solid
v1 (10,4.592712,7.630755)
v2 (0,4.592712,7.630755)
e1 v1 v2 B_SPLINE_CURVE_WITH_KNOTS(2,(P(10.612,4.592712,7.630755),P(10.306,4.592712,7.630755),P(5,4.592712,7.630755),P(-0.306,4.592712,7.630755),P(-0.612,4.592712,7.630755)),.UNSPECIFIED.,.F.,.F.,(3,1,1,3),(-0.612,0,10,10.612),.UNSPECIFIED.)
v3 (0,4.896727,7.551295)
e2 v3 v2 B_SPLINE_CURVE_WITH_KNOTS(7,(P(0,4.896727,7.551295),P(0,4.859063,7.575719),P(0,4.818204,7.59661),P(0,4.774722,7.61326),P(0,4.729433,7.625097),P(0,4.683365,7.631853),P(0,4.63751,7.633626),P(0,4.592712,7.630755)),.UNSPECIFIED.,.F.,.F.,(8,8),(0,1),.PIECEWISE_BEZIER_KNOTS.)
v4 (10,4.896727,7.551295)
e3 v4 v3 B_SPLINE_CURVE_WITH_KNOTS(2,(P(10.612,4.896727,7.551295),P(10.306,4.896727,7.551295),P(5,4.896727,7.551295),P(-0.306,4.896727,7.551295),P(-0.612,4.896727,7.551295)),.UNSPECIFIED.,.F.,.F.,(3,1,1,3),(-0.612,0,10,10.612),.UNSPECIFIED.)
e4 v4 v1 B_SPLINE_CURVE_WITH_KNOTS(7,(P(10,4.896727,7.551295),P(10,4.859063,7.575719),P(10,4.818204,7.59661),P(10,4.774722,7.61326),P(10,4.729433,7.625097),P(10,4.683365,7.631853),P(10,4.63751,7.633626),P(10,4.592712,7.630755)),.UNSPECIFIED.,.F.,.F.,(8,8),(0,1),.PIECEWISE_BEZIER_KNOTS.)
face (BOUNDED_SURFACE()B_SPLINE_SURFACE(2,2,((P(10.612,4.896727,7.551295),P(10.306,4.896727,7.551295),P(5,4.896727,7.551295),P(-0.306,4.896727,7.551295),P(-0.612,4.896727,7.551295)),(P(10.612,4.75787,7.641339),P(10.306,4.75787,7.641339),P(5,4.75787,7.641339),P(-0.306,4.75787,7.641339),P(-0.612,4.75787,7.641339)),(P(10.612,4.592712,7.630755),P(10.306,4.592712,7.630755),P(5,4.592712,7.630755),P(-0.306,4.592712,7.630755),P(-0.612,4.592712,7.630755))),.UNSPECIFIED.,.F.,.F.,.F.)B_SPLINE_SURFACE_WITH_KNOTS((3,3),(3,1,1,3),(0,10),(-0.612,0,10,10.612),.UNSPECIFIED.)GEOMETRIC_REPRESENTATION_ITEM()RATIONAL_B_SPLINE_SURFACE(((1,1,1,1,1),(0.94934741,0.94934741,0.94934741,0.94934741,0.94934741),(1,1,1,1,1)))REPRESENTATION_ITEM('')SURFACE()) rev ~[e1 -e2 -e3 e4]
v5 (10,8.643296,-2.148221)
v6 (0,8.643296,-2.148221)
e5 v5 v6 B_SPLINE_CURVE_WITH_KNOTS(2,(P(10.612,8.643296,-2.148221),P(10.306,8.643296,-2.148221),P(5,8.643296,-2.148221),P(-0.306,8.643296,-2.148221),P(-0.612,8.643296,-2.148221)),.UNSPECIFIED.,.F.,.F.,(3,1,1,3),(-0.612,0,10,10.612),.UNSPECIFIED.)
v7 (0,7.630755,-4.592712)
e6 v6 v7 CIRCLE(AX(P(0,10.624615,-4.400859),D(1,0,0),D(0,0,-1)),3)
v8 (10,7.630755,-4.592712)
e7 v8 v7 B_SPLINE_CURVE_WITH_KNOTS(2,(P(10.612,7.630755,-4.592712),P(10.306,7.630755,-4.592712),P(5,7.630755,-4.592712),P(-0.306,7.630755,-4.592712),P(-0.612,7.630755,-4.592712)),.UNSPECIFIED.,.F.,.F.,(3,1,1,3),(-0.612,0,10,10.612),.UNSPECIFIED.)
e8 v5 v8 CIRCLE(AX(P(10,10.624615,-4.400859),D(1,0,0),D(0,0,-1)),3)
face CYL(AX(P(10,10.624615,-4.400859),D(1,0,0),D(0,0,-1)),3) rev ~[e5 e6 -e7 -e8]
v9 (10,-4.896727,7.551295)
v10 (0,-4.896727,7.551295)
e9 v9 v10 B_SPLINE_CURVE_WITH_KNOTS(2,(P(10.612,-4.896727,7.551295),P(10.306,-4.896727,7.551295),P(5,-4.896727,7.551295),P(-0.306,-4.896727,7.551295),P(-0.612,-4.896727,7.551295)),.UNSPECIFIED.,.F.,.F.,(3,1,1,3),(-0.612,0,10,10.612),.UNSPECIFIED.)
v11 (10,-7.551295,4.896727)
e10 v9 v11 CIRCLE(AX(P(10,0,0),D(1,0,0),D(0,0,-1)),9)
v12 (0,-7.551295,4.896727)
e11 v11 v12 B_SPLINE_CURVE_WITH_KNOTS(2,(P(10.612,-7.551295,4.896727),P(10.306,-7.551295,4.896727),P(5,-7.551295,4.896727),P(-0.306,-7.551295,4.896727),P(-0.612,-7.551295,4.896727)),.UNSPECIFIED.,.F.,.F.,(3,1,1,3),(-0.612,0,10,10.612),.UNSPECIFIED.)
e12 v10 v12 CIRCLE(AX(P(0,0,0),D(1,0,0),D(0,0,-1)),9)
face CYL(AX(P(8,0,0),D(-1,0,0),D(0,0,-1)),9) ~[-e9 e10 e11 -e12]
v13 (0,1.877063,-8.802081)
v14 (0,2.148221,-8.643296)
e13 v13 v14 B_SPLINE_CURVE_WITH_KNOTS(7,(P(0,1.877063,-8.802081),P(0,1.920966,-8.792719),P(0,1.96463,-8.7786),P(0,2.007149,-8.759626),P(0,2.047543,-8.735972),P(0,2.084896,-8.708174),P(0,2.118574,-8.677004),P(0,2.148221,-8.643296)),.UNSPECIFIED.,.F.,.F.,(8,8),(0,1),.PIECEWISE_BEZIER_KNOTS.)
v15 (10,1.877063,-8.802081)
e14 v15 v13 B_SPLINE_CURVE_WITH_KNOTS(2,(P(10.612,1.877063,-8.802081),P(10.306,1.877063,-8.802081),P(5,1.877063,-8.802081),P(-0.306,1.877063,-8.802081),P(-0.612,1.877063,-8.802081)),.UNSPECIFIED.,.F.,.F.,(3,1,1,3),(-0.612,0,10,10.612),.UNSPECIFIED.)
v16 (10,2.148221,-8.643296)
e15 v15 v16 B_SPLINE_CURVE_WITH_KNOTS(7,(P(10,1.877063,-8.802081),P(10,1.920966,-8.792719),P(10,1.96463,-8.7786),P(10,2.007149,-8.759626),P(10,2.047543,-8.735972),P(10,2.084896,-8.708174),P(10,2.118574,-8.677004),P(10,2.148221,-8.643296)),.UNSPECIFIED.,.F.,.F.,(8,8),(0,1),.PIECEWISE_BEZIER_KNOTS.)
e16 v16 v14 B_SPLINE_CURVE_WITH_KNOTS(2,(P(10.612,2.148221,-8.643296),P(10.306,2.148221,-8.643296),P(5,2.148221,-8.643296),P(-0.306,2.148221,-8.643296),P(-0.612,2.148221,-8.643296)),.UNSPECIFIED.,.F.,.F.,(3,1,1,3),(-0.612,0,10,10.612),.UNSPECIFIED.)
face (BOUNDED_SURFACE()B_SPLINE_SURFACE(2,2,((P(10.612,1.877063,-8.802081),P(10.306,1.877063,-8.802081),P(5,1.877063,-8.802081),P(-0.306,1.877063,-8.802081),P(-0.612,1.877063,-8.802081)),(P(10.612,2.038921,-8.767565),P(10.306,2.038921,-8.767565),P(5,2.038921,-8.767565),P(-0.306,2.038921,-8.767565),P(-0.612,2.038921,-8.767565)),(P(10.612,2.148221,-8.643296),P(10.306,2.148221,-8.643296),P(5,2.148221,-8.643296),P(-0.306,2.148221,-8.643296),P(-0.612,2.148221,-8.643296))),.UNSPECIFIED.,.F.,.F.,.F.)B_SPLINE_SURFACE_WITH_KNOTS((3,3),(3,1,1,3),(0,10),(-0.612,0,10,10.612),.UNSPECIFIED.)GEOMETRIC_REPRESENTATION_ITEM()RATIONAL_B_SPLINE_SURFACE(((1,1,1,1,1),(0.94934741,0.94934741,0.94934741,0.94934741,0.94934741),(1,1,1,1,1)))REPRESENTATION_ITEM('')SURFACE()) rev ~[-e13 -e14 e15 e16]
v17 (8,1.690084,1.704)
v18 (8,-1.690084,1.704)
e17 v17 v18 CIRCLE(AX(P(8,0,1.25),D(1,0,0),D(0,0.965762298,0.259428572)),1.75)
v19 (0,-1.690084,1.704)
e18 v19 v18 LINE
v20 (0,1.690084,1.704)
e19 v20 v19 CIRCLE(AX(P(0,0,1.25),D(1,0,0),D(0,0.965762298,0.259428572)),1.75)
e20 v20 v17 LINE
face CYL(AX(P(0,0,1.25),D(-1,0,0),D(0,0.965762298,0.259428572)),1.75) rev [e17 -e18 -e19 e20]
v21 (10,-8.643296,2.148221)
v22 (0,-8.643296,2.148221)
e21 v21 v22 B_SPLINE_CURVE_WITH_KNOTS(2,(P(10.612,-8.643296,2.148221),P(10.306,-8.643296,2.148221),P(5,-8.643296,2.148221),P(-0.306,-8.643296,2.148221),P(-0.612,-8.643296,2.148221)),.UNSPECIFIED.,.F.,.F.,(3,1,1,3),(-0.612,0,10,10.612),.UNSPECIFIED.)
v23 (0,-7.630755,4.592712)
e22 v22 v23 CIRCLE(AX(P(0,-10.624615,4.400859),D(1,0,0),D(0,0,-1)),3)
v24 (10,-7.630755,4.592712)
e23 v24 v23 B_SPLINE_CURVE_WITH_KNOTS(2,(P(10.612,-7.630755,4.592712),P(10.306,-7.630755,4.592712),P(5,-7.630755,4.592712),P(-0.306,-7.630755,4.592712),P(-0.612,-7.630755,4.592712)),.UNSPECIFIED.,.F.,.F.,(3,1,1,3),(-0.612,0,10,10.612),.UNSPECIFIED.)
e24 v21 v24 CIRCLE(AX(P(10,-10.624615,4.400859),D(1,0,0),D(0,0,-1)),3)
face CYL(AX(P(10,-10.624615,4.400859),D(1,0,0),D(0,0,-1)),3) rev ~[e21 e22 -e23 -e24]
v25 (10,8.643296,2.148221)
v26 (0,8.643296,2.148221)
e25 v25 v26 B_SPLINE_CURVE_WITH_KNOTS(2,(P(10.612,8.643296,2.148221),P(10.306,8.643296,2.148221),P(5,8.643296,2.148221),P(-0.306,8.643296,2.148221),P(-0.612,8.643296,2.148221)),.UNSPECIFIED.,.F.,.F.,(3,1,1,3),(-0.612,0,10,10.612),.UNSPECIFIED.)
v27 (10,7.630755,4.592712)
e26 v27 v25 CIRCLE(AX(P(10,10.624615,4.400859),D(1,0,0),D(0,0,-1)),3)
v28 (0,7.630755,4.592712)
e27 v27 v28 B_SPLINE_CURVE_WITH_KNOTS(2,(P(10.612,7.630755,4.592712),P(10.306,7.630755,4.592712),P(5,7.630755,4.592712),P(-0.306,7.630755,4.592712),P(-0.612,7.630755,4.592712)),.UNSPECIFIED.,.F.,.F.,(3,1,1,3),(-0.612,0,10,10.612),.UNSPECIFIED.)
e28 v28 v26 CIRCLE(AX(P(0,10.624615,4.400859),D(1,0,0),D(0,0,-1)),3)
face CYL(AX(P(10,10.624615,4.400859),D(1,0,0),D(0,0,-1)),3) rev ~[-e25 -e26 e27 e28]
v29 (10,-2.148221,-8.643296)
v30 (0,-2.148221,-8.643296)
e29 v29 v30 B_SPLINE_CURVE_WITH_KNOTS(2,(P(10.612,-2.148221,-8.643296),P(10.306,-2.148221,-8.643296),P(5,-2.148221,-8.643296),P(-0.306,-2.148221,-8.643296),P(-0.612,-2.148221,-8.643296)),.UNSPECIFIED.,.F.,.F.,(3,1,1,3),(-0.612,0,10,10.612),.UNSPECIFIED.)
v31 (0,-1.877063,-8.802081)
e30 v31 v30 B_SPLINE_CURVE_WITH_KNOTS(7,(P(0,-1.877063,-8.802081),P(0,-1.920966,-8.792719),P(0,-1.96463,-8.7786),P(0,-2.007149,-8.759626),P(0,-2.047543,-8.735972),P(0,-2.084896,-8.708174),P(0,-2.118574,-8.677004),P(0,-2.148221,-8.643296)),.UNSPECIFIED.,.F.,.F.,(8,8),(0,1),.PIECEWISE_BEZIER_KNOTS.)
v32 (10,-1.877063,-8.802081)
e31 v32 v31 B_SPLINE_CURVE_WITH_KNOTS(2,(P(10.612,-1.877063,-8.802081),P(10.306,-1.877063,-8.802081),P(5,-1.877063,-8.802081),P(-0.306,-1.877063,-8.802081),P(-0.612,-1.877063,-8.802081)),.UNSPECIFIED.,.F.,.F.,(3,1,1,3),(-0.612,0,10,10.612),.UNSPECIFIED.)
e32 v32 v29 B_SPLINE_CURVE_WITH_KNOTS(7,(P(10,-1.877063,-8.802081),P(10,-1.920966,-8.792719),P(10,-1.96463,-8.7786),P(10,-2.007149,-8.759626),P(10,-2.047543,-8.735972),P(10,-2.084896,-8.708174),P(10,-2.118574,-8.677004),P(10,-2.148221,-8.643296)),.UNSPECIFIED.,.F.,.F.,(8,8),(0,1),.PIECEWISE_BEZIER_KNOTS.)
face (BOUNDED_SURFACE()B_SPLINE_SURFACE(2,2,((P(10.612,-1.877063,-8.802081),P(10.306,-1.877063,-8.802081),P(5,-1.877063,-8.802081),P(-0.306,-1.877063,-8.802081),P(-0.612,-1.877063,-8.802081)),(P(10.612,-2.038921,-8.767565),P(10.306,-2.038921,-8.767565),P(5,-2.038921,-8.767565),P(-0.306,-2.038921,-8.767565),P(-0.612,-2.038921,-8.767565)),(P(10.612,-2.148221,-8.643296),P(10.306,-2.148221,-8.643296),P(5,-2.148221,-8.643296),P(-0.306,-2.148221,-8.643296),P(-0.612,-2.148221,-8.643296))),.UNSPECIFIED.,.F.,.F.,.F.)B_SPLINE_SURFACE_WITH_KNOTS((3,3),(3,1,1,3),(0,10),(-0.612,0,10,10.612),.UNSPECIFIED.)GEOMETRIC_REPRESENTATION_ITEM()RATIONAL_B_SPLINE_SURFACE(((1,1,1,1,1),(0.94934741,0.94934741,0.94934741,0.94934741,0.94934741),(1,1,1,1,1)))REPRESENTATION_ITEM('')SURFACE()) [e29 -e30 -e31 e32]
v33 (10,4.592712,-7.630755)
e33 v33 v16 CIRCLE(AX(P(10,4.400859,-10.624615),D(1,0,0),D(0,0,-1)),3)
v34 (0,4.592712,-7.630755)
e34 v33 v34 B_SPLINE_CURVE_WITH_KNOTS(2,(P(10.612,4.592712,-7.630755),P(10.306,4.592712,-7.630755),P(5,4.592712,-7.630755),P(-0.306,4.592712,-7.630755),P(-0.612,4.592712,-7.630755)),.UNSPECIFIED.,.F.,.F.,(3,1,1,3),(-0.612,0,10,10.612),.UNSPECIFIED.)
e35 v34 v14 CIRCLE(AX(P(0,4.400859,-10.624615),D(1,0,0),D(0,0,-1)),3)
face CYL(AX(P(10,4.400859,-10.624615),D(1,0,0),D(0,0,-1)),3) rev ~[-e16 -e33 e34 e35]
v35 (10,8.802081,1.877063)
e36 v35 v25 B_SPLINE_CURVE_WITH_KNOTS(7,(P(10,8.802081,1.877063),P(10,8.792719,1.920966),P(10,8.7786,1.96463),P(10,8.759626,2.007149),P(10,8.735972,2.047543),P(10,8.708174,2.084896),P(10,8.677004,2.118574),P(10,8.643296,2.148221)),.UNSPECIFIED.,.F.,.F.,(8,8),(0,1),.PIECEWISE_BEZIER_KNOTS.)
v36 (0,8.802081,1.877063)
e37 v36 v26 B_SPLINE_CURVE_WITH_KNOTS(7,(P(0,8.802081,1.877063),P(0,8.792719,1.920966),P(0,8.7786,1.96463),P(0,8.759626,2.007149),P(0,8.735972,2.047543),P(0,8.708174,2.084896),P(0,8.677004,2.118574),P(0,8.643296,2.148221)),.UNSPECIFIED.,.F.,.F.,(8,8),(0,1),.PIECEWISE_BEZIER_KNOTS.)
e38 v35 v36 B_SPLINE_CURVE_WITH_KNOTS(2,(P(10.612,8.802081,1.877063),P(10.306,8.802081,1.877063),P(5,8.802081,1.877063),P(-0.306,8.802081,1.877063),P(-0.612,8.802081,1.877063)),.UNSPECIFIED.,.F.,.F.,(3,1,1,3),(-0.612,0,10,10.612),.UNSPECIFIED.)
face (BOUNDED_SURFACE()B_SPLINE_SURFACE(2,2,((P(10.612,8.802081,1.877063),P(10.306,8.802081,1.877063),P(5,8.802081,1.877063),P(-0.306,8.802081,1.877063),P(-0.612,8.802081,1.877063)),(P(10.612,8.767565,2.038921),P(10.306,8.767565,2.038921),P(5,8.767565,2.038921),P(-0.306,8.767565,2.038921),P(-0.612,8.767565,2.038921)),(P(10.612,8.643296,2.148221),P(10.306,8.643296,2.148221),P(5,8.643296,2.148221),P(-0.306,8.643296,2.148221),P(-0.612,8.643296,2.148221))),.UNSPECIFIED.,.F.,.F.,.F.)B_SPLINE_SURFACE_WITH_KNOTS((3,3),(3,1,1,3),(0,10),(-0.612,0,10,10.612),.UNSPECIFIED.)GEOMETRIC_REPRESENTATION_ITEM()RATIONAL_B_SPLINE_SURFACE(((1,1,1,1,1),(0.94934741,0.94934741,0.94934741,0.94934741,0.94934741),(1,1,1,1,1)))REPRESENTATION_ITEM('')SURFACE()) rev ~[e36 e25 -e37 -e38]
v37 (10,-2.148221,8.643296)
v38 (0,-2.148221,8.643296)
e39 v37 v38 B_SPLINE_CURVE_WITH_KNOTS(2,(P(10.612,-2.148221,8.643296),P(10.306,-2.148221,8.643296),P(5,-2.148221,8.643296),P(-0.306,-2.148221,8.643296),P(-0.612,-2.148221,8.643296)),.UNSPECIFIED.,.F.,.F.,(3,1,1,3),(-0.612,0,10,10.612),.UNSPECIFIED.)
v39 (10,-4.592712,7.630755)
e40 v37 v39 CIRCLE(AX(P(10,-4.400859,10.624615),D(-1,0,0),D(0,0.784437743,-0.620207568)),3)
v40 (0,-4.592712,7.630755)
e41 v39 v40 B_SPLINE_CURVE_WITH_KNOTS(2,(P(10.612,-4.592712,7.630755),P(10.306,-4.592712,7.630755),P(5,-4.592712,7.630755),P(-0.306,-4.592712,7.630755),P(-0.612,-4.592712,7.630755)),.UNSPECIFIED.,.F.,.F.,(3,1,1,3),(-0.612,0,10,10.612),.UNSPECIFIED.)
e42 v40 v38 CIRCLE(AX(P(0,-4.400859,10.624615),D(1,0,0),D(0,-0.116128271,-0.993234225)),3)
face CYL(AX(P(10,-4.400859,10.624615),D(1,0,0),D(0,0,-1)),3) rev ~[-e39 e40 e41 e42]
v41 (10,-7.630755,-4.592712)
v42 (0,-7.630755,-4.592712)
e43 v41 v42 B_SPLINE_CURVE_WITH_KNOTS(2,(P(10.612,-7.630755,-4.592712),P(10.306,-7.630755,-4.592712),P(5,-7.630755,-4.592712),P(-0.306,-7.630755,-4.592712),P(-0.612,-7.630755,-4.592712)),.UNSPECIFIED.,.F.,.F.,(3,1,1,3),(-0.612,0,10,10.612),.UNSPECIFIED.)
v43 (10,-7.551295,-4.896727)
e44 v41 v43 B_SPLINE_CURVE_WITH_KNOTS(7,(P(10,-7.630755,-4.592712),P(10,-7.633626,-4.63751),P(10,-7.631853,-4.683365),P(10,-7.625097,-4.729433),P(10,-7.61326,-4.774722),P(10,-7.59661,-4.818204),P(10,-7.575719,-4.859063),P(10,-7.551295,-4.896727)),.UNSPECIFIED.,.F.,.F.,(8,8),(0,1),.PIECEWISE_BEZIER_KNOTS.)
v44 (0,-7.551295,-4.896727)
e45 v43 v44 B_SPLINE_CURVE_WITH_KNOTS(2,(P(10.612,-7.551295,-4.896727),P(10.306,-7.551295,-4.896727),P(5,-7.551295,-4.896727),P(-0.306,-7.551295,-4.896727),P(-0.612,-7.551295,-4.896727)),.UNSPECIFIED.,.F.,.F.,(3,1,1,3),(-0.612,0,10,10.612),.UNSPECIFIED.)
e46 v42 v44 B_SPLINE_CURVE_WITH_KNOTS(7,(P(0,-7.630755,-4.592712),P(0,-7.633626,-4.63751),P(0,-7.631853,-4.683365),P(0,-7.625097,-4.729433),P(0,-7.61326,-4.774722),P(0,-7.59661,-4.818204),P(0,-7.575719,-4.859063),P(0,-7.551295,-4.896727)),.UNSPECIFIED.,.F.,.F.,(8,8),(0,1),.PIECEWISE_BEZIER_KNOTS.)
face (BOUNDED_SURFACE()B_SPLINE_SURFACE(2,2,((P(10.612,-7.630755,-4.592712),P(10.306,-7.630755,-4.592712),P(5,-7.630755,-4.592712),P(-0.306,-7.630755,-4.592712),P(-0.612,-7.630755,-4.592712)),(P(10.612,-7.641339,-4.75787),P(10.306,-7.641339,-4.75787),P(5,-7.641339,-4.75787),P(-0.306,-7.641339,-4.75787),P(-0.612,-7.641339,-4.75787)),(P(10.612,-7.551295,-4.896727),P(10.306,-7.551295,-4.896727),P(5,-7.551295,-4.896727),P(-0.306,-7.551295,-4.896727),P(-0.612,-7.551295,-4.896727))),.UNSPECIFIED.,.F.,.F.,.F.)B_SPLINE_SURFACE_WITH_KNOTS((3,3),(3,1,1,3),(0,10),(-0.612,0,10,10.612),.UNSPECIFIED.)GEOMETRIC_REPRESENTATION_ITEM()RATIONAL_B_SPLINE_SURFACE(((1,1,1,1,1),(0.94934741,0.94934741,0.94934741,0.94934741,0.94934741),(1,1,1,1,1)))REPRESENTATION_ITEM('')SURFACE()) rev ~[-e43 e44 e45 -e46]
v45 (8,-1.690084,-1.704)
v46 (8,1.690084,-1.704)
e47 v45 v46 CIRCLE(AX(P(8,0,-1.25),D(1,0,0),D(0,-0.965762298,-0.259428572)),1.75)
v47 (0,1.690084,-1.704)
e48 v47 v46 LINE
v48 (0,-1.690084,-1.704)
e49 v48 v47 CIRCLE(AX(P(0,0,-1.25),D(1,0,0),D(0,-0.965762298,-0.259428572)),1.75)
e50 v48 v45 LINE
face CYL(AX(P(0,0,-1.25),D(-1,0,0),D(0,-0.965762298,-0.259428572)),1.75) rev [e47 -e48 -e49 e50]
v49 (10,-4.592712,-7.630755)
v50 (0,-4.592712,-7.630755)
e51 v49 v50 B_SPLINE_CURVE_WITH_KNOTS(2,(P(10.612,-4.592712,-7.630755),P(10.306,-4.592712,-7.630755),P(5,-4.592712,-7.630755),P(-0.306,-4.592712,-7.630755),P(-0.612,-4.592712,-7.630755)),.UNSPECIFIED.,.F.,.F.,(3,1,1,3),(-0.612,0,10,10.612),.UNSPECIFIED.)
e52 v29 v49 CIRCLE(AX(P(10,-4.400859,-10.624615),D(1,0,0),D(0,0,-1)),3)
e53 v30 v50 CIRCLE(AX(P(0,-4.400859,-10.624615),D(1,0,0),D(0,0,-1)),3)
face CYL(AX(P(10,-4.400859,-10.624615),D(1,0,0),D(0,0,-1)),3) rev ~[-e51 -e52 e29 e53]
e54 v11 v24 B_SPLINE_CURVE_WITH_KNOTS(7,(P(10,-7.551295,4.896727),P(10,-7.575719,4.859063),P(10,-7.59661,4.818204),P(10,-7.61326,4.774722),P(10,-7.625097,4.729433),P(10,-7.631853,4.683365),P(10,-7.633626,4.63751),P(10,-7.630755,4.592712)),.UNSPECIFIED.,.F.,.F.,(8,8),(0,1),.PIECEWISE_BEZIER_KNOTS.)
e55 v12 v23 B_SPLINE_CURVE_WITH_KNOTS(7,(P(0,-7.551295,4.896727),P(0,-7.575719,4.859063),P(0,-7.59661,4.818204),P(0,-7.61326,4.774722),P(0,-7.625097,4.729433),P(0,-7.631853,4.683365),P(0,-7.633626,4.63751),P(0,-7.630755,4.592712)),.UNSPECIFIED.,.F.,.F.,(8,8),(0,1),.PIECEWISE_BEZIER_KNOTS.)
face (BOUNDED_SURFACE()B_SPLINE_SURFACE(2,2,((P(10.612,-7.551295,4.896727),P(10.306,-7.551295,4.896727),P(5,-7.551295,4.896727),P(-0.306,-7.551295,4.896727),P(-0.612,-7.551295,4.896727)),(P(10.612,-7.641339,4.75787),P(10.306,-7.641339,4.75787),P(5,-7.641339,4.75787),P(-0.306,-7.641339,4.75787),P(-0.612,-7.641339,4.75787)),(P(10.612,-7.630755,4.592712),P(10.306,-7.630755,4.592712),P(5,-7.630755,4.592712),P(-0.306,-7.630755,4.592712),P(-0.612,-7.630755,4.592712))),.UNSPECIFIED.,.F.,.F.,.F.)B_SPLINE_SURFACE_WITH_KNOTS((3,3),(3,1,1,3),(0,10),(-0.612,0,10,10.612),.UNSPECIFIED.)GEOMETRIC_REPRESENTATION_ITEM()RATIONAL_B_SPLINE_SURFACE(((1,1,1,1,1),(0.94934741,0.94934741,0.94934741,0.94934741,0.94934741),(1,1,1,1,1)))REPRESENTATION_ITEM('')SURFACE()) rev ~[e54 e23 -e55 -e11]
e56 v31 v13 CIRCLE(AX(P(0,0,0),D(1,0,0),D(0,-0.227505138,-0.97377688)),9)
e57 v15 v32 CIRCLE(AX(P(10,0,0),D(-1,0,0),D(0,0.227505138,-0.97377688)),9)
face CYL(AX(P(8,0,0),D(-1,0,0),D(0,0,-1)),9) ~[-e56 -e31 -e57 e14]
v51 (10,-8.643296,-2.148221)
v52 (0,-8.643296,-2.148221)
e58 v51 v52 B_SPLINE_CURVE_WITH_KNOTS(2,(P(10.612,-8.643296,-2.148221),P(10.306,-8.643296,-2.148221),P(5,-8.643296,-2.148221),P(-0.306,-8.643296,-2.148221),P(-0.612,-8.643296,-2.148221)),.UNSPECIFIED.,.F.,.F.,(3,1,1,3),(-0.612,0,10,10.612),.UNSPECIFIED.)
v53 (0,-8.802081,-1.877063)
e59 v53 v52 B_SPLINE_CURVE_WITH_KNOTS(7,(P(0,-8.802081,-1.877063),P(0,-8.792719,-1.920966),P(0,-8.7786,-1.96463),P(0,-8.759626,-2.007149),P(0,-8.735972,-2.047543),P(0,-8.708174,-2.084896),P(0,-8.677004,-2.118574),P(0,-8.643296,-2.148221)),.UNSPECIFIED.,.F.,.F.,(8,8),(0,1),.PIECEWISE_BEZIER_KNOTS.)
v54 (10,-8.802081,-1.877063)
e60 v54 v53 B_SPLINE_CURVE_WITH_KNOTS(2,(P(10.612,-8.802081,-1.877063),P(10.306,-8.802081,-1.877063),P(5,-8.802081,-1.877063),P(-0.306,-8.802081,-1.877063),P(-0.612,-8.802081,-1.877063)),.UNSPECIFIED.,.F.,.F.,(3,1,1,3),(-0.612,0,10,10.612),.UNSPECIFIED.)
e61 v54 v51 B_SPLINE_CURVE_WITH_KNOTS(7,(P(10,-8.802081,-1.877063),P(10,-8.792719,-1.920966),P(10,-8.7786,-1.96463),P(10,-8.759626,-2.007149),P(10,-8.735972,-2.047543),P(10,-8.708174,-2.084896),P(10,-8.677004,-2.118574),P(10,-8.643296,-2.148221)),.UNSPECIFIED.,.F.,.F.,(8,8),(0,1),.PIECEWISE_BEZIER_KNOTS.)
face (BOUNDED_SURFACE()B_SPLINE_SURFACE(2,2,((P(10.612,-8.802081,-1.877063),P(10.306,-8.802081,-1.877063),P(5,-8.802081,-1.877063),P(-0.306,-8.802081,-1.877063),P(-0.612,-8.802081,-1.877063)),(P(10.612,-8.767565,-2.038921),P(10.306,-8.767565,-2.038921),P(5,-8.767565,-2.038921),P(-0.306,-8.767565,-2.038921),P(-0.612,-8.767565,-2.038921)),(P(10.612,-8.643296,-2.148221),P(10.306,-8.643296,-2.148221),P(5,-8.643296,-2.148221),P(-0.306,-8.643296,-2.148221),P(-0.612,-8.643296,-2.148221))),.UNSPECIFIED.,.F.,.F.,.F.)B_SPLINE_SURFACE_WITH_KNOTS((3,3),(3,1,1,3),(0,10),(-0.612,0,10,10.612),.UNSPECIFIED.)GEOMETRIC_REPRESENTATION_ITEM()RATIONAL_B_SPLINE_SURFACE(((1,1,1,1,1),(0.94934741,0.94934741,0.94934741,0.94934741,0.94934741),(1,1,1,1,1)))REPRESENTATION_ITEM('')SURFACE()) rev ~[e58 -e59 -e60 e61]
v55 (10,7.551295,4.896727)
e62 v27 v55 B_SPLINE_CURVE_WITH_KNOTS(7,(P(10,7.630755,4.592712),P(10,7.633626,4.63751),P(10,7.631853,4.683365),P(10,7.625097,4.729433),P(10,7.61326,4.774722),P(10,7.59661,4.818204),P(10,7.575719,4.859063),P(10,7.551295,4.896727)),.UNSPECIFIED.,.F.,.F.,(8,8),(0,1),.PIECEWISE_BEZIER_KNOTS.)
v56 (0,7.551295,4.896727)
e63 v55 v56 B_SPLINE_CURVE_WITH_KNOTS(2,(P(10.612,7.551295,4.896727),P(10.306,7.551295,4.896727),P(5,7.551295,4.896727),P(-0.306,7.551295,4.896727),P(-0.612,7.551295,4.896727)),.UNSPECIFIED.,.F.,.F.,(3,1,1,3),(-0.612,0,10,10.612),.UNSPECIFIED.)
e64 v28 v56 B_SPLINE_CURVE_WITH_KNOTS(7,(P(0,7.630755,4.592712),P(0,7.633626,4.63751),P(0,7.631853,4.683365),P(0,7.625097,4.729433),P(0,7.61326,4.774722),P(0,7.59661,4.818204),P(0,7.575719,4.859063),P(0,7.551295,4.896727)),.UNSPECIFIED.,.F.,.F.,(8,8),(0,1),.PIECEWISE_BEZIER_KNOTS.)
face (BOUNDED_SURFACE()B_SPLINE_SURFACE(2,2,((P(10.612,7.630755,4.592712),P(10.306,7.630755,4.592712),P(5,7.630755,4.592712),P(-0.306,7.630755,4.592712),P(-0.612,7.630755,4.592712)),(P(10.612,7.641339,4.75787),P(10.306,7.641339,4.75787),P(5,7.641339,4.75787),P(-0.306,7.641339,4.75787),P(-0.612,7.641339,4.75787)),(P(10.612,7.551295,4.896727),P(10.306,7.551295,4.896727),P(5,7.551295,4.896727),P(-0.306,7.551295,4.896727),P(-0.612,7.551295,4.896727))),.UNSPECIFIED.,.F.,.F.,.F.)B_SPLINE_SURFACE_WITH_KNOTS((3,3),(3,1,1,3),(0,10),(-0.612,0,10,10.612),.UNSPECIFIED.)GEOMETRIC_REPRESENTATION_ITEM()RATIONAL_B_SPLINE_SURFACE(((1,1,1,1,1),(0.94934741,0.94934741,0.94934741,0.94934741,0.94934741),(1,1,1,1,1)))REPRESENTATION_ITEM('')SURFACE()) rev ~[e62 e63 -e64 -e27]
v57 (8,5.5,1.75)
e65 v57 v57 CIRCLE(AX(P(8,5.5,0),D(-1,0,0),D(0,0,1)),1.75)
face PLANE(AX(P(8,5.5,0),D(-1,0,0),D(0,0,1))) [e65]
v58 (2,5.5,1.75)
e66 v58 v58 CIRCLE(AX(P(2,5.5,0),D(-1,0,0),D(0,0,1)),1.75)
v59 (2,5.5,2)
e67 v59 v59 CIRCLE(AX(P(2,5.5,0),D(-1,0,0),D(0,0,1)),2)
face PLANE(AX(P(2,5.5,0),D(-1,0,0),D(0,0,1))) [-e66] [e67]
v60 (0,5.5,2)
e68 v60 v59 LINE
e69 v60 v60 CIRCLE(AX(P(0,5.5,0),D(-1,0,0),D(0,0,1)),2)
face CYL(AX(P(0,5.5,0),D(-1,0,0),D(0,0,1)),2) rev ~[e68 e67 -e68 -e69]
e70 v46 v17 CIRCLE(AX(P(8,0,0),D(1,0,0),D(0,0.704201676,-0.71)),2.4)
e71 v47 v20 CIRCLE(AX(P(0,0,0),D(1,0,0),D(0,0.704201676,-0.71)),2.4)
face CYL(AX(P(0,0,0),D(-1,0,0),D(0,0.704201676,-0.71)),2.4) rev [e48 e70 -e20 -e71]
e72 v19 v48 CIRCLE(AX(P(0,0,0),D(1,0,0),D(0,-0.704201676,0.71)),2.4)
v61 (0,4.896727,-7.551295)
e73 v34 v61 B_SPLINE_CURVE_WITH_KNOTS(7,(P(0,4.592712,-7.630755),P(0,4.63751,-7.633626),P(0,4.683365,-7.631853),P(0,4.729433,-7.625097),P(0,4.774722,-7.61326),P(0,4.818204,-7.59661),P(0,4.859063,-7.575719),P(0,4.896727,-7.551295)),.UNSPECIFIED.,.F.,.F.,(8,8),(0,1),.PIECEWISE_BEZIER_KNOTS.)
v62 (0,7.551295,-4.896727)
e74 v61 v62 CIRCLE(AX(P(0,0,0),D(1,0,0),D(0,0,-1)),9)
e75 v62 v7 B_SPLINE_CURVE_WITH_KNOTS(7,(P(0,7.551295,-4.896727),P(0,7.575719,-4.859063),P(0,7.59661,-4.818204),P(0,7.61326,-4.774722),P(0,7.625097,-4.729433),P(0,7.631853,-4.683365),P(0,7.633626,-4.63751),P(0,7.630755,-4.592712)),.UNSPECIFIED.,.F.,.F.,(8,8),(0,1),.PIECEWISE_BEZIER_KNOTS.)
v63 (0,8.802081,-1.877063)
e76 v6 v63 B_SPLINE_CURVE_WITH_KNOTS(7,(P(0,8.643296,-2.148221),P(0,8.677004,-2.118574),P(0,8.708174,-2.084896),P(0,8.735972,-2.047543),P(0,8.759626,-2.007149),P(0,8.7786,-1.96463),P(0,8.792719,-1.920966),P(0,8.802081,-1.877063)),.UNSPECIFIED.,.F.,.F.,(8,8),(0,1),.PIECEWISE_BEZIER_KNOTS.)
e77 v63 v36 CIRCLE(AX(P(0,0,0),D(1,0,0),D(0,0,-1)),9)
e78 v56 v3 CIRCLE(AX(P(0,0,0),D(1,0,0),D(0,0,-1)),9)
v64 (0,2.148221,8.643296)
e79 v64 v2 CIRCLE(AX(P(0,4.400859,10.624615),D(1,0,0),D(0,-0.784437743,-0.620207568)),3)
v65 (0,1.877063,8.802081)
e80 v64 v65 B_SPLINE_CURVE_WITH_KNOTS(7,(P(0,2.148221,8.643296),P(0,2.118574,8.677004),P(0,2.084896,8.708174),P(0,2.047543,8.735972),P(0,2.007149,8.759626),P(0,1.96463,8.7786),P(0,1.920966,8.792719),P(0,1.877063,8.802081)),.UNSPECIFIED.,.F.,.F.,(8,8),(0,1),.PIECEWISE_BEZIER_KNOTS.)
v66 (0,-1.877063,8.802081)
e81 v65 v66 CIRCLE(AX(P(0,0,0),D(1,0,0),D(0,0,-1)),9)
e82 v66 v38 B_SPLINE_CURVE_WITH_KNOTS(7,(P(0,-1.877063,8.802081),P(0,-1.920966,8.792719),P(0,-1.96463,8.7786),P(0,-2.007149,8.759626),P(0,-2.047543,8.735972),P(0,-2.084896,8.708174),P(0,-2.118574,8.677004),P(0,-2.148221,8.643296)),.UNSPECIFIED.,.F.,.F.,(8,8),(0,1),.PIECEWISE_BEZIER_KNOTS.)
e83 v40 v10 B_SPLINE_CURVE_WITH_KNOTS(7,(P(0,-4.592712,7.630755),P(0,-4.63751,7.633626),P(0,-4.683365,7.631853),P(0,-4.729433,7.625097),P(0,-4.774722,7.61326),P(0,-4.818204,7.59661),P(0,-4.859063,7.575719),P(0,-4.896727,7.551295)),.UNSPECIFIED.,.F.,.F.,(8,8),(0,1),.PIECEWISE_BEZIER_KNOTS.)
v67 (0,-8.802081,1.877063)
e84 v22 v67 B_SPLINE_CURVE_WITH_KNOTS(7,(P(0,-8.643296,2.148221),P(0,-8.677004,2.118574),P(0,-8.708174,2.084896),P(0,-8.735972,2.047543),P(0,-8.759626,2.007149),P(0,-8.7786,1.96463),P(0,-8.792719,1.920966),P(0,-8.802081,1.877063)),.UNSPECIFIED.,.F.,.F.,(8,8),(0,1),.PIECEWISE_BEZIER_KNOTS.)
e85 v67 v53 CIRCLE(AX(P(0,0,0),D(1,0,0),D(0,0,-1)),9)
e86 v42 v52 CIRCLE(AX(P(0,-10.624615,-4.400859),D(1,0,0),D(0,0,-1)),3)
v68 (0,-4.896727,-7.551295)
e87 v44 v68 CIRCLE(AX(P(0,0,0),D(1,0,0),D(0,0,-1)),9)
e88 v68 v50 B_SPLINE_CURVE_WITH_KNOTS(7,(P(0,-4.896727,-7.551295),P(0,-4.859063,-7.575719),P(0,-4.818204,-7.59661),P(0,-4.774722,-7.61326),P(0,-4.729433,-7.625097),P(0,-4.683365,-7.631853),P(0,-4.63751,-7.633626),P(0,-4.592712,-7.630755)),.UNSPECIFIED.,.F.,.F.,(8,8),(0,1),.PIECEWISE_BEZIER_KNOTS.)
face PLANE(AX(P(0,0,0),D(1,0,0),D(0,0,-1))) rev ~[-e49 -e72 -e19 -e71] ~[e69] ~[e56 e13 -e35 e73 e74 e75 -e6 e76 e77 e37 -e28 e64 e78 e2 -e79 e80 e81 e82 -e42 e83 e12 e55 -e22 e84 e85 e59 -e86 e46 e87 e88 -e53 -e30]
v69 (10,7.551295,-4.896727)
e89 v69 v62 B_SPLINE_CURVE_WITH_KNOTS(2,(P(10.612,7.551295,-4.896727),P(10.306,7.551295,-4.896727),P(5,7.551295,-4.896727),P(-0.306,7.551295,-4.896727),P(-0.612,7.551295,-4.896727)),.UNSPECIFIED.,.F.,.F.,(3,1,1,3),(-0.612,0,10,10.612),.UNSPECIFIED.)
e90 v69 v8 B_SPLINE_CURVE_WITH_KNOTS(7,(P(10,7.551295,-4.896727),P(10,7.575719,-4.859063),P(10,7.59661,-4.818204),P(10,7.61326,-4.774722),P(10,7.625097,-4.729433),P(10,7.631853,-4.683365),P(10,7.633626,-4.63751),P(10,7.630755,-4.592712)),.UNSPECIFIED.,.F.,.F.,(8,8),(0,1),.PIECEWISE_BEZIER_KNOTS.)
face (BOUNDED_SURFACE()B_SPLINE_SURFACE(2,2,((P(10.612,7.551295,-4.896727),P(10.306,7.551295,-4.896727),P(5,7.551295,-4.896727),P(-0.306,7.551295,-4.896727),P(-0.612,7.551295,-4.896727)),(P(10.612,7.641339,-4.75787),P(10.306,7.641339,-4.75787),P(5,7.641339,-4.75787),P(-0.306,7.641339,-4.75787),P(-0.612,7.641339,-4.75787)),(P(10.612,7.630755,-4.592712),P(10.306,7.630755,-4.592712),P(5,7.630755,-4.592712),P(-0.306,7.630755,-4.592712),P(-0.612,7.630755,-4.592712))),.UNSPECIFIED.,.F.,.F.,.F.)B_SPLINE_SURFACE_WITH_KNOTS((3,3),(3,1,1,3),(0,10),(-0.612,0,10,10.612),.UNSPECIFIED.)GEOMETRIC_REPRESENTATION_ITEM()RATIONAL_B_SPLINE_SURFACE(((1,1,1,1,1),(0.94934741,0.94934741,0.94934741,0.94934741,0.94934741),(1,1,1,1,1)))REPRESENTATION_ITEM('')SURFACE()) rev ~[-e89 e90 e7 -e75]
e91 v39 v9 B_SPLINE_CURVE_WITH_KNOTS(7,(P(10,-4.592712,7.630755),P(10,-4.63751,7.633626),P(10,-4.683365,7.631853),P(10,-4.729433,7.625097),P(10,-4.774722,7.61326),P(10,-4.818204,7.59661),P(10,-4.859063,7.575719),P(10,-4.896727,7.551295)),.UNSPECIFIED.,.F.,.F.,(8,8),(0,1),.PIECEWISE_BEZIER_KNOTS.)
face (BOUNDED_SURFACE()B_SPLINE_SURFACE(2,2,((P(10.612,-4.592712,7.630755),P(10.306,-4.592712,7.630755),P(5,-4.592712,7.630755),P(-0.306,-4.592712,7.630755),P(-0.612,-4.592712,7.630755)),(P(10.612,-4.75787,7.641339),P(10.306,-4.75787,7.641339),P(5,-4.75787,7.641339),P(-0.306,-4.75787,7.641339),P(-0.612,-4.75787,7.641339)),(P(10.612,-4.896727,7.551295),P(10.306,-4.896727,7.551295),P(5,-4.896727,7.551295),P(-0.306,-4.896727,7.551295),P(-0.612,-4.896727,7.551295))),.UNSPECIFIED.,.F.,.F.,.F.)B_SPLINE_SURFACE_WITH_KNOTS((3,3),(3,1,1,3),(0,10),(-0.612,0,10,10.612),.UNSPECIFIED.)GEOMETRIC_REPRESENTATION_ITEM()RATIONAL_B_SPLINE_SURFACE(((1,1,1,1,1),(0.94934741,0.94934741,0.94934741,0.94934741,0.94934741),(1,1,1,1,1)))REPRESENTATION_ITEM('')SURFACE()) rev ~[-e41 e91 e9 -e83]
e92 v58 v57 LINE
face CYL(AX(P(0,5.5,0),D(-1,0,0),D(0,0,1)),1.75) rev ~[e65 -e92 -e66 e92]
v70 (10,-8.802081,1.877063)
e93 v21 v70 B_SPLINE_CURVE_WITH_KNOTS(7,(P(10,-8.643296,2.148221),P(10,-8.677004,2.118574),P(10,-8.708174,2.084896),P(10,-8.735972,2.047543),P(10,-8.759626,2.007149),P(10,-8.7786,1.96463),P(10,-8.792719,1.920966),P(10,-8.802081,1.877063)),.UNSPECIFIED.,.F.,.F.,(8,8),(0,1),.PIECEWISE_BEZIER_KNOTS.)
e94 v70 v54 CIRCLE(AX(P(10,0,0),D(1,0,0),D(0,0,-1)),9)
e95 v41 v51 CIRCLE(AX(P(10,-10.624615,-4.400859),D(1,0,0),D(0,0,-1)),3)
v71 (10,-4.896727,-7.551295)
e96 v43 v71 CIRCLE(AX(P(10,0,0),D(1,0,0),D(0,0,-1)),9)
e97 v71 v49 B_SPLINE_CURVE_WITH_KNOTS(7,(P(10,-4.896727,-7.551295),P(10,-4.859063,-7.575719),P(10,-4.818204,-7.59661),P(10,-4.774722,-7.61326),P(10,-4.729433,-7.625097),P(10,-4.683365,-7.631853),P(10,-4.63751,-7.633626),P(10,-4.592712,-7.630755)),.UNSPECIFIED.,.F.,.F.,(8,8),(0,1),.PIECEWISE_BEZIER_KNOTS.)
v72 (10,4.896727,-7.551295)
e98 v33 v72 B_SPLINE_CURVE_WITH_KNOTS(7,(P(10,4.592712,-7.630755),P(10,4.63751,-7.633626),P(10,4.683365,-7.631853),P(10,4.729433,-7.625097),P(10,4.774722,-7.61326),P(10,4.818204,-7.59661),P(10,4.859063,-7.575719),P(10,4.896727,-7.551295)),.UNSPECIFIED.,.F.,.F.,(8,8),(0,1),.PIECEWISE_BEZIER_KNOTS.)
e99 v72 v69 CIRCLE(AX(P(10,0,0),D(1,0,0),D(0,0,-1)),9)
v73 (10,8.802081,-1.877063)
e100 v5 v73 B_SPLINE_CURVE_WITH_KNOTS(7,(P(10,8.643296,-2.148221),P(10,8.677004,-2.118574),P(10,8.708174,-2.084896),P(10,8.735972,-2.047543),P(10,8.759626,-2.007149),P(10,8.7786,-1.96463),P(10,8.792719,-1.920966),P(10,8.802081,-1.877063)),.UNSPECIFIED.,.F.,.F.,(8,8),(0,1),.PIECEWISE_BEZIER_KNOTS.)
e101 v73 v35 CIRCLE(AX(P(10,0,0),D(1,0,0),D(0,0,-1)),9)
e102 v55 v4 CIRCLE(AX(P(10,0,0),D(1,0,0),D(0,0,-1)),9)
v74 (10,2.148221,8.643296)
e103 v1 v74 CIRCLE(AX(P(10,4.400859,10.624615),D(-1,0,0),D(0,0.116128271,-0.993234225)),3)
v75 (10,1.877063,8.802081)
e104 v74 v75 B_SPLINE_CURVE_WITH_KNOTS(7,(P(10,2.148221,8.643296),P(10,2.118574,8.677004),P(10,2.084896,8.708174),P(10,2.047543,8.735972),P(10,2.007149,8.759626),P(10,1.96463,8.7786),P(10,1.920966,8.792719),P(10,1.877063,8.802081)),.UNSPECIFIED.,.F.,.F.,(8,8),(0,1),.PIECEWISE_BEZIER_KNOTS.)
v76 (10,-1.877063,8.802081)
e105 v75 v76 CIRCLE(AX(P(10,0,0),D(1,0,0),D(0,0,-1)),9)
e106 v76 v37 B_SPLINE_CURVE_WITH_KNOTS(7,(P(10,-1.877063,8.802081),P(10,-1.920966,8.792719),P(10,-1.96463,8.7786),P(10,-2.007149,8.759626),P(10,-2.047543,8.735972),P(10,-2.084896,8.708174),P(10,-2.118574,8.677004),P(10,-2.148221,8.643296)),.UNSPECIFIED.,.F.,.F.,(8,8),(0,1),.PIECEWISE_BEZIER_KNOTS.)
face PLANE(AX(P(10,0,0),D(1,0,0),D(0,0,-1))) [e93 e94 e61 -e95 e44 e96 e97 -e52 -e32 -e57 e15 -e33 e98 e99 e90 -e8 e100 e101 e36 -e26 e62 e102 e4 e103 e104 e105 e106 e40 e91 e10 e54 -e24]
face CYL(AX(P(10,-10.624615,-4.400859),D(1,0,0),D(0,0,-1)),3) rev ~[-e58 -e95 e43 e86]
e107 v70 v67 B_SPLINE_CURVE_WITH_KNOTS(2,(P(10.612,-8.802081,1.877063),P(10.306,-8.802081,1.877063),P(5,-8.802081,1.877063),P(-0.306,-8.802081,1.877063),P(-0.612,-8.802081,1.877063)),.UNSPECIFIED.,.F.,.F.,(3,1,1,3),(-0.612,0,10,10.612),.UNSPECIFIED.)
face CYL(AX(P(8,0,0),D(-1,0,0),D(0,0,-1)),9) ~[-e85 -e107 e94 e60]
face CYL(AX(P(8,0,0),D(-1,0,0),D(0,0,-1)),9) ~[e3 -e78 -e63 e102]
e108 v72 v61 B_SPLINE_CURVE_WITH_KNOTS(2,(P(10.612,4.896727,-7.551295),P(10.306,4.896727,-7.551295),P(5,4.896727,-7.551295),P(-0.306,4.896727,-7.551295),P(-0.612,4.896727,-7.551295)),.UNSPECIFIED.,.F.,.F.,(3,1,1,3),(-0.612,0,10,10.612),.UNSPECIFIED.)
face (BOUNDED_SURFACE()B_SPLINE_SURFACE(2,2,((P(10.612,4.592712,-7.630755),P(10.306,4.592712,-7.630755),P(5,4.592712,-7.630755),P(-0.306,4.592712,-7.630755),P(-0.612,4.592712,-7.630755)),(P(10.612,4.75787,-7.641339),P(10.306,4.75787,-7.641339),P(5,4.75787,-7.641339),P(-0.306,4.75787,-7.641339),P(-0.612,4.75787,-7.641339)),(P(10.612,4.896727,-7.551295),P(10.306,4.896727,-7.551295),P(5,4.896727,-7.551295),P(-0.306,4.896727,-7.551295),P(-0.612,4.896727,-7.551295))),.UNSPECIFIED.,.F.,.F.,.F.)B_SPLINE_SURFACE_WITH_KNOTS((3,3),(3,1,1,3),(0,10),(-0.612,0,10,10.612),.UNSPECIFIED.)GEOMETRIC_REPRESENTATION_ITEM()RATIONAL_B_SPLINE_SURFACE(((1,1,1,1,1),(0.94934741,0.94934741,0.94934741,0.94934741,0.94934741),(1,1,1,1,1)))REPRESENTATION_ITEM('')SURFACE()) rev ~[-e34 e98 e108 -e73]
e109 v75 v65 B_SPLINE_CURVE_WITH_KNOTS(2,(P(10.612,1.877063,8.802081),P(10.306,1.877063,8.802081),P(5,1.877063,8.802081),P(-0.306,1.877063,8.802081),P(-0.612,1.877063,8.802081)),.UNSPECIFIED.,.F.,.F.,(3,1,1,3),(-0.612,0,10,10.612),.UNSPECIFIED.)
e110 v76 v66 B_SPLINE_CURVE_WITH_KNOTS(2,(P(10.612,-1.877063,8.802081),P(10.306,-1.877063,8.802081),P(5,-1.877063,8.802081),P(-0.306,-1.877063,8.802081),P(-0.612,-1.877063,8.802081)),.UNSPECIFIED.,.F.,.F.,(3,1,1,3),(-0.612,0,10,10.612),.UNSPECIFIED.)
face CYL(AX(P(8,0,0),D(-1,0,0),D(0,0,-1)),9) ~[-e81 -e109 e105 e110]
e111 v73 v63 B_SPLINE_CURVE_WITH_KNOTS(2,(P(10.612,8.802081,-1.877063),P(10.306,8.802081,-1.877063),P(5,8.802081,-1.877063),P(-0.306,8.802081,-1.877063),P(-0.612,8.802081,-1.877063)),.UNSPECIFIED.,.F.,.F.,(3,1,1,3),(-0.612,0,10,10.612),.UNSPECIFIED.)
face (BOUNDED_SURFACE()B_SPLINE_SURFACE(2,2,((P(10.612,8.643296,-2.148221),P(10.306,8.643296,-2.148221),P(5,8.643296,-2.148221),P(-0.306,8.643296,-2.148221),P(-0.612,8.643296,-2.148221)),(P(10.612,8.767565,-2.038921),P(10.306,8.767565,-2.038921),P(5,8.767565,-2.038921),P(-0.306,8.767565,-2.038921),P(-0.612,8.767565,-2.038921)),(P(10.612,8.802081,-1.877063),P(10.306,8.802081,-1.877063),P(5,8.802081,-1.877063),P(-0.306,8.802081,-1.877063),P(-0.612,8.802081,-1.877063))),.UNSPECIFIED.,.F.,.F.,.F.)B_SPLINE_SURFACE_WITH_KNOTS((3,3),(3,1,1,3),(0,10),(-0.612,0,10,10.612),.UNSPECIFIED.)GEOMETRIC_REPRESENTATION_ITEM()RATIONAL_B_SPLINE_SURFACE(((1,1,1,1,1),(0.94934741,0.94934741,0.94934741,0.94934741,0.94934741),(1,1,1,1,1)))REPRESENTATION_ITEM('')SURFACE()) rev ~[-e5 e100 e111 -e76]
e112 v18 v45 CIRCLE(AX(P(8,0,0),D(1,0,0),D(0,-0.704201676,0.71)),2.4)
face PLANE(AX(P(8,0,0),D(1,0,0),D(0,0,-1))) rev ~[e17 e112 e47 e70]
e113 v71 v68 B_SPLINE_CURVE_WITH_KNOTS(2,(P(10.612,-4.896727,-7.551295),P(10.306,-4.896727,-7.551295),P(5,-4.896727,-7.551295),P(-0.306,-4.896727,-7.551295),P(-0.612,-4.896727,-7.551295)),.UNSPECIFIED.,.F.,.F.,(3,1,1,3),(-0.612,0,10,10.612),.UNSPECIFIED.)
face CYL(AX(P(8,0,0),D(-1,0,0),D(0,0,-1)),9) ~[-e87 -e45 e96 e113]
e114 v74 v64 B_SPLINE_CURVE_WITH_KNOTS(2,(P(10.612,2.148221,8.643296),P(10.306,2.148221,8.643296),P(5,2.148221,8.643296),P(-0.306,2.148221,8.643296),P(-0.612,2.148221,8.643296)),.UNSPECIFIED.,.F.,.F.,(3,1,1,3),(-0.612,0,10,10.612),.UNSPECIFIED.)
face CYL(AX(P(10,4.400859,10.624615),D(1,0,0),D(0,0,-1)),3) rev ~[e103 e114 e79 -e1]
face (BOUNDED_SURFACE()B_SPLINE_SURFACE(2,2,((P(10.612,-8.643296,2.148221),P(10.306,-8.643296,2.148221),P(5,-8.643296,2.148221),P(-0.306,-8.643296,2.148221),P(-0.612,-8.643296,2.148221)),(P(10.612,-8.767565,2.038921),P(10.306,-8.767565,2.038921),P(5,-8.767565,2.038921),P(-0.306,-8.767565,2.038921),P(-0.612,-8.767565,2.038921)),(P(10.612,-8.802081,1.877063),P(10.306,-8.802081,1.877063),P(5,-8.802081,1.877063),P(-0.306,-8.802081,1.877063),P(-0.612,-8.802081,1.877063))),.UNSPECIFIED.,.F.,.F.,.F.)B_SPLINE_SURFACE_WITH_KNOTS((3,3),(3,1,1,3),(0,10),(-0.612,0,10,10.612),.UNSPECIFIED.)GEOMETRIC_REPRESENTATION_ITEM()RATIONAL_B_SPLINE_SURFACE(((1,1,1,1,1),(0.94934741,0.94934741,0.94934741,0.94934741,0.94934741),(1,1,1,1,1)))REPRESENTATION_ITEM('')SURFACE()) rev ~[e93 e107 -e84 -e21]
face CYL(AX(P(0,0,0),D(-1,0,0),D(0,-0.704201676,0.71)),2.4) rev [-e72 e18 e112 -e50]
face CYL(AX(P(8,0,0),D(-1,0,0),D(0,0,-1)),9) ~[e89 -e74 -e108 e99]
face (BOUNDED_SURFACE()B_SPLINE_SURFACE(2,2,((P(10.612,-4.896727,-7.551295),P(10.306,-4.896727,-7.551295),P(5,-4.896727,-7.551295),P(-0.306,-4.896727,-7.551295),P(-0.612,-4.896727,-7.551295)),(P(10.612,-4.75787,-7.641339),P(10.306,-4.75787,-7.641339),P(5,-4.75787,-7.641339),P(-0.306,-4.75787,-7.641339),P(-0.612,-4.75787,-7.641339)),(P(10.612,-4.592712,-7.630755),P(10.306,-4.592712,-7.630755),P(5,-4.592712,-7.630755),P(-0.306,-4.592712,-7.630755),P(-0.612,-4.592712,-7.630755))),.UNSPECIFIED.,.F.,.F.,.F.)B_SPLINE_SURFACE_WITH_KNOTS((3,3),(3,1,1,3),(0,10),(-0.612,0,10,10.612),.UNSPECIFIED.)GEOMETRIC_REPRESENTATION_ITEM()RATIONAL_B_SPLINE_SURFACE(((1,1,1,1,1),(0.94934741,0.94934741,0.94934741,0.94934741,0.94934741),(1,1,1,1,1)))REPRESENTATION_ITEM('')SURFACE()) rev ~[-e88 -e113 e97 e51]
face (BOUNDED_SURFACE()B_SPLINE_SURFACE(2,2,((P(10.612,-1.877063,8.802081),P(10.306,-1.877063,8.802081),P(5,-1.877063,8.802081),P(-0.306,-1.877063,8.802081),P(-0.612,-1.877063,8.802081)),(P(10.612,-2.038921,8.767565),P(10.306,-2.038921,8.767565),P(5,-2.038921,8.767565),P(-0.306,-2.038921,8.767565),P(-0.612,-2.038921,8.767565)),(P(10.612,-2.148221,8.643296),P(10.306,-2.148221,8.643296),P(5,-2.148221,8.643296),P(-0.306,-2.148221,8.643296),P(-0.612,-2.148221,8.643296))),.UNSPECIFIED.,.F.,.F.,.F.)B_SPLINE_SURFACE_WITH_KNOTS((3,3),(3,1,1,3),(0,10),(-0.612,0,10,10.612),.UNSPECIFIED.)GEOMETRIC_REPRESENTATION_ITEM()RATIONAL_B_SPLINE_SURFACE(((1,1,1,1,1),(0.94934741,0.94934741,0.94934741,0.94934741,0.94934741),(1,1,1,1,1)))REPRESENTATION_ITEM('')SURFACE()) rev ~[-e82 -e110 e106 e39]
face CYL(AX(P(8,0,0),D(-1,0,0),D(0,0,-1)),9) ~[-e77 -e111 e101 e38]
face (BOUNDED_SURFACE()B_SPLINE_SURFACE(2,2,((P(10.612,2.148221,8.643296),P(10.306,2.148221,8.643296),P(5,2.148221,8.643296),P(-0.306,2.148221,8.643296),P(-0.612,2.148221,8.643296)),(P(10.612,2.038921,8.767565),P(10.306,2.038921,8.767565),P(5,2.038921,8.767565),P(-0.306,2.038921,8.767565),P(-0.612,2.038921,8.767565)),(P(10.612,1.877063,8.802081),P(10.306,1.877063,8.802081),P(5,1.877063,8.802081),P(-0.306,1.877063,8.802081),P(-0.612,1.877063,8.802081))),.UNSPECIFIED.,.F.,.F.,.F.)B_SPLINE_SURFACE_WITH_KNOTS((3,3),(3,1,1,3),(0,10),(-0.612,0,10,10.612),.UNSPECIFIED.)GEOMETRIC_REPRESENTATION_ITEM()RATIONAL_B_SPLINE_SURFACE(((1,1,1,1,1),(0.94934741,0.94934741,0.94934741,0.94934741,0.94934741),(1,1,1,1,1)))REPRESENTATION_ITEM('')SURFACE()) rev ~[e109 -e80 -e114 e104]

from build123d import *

# Parameters (mm, degrees)
SKETCH1_R           = 9
BOSS_EXTRUDE1_DEPTH = 8
SKETCH2_R           = 9
BOSS_EXTRUDE2_DEPTH = 2
SKETCH3_R           = 3
CUT_EXTRUDE1_DEPTH  = 17.186414056
FILLET3_R           = 0.5
SKETCH4_R           = 1.75
CUT_EXTRUDE2_DEPTH  = 8
SKETCH5_R           = 2
CUT_EXTRUDE3_DEPTH  = 2


with BuildPart() as part:
    # Sketch1 → Boss-Extrude1 (new body)
    with BuildSketch(Plane(origin=(0, 0, 0), x_dir=(0, 0, -1), z_dir=(1, 0, 0))):
        Circle(SKETCH1_R)
        with BuildLine():
            ThreePointArc((1.704, 1.690084022), (0, 2.4), (-1.704, 1.690084022))
            ThreePointArc((-1.704, 1.690084022), (-3, 0), (-1.704, -1.690084022))
            ThreePointArc((-1.704, -1.690084022), (0, -2.4), (1.704, -1.690084022))
            ThreePointArc((1.704, -1.690084022), (3, 0), (1.704, 1.690084022))
        make_face(mode=Mode.SUBTRACT)
    extrude(amount=BOSS_EXTRUDE1_DEPTH)

    # Sketch2 → Boss-Extrude2 (add)
    with BuildSketch(Plane(origin=(8, 0, 0), x_dir=(0, 0, -1), z_dir=(1, 0, 0))):
        Circle(SKETCH2_R)
    extrude(amount=BOSS_EXTRUDE2_DEPTH)

    # Sketch3 → Cut-Extrude1 (cut, through all)
    with BuildSketch(Plane(origin=(10, 0, 0), x_dir=(0, 0, -1), z_dir=(1, 0, 0))):
        with Locations((-4.400859472, 10.624614624)):
            Circle(SKETCH3_R)
        with Locations((4.400859472, 10.624614624)):
            Circle(SKETCH3_R)
        with Locations((10.624614624, 4.400859472)):
            Circle(SKETCH3_R)
        with Locations((4.400859472, -10.624614624)):
            Circle(SKETCH3_R)
        with Locations((-10.624614624, -4.400859472)):
            Circle(SKETCH3_R)
        with Locations((-10.624614624, 4.400859472)):
            Circle(SKETCH3_R)
        with Locations((-4.400859472, -10.624614624)):
            Circle(SKETCH3_R)
        with Locations((10.624614624, -4.400859472)):
            Circle(SKETCH3_R)
    extrude(amount=-CUT_EXTRUDE1_DEPTH, mode=Mode.SUBTRACT)

    # Fillet3
    fillet3_edges = [part.edges().sort_by_distance(p)[0] for p in [
        (5, 8.763991921, 2.047546243),
        (5, 7.64491195, 4.749244284),
        (5, 2.047546243, -8.763991921),
        (5, 4.749244284, -7.64491195),
        (5, -8.763991921, -2.047546243),
        (5, -7.64491195, -4.749244284),
        (5, -2.047546243, 8.763991921),
        (5, -4.749244284, 7.64491195),
        (5, 7.64491195, -4.749244284),
        (5, 8.763991921, -2.047546243),
        (5, 4.749244284, 7.64491195),
        (5, 2.047546243, 8.763991921),
        (5, -7.64491195, 4.749244284),
        (5, -8.763991921, 2.047546243),
        (5, -4.749244284, -7.64491195),
        (5, -2.047546243, -8.763991921),
    ]]
    fillet(fillet3_edges, radius=FILLET3_R)

    # Sketch4 → Cut-Extrude2 (cut)
    with BuildSketch(Plane.ZY):
        with Locations((0, 5.5)):
            Circle(SKETCH4_R)
    extrude(amount=-CUT_EXTRUDE2_DEPTH, mode=Mode.SUBTRACT)

    # Sketch5 → Cut-Extrude3 (cut)
    with BuildSketch(Plane.ZY):
        with Locations((0, 5.5)):
            Circle(SKETCH5_R)
    extrude(amount=-CUT_EXTRUDE3_DEPTH, mode=Mode.SUBTRACT)


solid = part.part
